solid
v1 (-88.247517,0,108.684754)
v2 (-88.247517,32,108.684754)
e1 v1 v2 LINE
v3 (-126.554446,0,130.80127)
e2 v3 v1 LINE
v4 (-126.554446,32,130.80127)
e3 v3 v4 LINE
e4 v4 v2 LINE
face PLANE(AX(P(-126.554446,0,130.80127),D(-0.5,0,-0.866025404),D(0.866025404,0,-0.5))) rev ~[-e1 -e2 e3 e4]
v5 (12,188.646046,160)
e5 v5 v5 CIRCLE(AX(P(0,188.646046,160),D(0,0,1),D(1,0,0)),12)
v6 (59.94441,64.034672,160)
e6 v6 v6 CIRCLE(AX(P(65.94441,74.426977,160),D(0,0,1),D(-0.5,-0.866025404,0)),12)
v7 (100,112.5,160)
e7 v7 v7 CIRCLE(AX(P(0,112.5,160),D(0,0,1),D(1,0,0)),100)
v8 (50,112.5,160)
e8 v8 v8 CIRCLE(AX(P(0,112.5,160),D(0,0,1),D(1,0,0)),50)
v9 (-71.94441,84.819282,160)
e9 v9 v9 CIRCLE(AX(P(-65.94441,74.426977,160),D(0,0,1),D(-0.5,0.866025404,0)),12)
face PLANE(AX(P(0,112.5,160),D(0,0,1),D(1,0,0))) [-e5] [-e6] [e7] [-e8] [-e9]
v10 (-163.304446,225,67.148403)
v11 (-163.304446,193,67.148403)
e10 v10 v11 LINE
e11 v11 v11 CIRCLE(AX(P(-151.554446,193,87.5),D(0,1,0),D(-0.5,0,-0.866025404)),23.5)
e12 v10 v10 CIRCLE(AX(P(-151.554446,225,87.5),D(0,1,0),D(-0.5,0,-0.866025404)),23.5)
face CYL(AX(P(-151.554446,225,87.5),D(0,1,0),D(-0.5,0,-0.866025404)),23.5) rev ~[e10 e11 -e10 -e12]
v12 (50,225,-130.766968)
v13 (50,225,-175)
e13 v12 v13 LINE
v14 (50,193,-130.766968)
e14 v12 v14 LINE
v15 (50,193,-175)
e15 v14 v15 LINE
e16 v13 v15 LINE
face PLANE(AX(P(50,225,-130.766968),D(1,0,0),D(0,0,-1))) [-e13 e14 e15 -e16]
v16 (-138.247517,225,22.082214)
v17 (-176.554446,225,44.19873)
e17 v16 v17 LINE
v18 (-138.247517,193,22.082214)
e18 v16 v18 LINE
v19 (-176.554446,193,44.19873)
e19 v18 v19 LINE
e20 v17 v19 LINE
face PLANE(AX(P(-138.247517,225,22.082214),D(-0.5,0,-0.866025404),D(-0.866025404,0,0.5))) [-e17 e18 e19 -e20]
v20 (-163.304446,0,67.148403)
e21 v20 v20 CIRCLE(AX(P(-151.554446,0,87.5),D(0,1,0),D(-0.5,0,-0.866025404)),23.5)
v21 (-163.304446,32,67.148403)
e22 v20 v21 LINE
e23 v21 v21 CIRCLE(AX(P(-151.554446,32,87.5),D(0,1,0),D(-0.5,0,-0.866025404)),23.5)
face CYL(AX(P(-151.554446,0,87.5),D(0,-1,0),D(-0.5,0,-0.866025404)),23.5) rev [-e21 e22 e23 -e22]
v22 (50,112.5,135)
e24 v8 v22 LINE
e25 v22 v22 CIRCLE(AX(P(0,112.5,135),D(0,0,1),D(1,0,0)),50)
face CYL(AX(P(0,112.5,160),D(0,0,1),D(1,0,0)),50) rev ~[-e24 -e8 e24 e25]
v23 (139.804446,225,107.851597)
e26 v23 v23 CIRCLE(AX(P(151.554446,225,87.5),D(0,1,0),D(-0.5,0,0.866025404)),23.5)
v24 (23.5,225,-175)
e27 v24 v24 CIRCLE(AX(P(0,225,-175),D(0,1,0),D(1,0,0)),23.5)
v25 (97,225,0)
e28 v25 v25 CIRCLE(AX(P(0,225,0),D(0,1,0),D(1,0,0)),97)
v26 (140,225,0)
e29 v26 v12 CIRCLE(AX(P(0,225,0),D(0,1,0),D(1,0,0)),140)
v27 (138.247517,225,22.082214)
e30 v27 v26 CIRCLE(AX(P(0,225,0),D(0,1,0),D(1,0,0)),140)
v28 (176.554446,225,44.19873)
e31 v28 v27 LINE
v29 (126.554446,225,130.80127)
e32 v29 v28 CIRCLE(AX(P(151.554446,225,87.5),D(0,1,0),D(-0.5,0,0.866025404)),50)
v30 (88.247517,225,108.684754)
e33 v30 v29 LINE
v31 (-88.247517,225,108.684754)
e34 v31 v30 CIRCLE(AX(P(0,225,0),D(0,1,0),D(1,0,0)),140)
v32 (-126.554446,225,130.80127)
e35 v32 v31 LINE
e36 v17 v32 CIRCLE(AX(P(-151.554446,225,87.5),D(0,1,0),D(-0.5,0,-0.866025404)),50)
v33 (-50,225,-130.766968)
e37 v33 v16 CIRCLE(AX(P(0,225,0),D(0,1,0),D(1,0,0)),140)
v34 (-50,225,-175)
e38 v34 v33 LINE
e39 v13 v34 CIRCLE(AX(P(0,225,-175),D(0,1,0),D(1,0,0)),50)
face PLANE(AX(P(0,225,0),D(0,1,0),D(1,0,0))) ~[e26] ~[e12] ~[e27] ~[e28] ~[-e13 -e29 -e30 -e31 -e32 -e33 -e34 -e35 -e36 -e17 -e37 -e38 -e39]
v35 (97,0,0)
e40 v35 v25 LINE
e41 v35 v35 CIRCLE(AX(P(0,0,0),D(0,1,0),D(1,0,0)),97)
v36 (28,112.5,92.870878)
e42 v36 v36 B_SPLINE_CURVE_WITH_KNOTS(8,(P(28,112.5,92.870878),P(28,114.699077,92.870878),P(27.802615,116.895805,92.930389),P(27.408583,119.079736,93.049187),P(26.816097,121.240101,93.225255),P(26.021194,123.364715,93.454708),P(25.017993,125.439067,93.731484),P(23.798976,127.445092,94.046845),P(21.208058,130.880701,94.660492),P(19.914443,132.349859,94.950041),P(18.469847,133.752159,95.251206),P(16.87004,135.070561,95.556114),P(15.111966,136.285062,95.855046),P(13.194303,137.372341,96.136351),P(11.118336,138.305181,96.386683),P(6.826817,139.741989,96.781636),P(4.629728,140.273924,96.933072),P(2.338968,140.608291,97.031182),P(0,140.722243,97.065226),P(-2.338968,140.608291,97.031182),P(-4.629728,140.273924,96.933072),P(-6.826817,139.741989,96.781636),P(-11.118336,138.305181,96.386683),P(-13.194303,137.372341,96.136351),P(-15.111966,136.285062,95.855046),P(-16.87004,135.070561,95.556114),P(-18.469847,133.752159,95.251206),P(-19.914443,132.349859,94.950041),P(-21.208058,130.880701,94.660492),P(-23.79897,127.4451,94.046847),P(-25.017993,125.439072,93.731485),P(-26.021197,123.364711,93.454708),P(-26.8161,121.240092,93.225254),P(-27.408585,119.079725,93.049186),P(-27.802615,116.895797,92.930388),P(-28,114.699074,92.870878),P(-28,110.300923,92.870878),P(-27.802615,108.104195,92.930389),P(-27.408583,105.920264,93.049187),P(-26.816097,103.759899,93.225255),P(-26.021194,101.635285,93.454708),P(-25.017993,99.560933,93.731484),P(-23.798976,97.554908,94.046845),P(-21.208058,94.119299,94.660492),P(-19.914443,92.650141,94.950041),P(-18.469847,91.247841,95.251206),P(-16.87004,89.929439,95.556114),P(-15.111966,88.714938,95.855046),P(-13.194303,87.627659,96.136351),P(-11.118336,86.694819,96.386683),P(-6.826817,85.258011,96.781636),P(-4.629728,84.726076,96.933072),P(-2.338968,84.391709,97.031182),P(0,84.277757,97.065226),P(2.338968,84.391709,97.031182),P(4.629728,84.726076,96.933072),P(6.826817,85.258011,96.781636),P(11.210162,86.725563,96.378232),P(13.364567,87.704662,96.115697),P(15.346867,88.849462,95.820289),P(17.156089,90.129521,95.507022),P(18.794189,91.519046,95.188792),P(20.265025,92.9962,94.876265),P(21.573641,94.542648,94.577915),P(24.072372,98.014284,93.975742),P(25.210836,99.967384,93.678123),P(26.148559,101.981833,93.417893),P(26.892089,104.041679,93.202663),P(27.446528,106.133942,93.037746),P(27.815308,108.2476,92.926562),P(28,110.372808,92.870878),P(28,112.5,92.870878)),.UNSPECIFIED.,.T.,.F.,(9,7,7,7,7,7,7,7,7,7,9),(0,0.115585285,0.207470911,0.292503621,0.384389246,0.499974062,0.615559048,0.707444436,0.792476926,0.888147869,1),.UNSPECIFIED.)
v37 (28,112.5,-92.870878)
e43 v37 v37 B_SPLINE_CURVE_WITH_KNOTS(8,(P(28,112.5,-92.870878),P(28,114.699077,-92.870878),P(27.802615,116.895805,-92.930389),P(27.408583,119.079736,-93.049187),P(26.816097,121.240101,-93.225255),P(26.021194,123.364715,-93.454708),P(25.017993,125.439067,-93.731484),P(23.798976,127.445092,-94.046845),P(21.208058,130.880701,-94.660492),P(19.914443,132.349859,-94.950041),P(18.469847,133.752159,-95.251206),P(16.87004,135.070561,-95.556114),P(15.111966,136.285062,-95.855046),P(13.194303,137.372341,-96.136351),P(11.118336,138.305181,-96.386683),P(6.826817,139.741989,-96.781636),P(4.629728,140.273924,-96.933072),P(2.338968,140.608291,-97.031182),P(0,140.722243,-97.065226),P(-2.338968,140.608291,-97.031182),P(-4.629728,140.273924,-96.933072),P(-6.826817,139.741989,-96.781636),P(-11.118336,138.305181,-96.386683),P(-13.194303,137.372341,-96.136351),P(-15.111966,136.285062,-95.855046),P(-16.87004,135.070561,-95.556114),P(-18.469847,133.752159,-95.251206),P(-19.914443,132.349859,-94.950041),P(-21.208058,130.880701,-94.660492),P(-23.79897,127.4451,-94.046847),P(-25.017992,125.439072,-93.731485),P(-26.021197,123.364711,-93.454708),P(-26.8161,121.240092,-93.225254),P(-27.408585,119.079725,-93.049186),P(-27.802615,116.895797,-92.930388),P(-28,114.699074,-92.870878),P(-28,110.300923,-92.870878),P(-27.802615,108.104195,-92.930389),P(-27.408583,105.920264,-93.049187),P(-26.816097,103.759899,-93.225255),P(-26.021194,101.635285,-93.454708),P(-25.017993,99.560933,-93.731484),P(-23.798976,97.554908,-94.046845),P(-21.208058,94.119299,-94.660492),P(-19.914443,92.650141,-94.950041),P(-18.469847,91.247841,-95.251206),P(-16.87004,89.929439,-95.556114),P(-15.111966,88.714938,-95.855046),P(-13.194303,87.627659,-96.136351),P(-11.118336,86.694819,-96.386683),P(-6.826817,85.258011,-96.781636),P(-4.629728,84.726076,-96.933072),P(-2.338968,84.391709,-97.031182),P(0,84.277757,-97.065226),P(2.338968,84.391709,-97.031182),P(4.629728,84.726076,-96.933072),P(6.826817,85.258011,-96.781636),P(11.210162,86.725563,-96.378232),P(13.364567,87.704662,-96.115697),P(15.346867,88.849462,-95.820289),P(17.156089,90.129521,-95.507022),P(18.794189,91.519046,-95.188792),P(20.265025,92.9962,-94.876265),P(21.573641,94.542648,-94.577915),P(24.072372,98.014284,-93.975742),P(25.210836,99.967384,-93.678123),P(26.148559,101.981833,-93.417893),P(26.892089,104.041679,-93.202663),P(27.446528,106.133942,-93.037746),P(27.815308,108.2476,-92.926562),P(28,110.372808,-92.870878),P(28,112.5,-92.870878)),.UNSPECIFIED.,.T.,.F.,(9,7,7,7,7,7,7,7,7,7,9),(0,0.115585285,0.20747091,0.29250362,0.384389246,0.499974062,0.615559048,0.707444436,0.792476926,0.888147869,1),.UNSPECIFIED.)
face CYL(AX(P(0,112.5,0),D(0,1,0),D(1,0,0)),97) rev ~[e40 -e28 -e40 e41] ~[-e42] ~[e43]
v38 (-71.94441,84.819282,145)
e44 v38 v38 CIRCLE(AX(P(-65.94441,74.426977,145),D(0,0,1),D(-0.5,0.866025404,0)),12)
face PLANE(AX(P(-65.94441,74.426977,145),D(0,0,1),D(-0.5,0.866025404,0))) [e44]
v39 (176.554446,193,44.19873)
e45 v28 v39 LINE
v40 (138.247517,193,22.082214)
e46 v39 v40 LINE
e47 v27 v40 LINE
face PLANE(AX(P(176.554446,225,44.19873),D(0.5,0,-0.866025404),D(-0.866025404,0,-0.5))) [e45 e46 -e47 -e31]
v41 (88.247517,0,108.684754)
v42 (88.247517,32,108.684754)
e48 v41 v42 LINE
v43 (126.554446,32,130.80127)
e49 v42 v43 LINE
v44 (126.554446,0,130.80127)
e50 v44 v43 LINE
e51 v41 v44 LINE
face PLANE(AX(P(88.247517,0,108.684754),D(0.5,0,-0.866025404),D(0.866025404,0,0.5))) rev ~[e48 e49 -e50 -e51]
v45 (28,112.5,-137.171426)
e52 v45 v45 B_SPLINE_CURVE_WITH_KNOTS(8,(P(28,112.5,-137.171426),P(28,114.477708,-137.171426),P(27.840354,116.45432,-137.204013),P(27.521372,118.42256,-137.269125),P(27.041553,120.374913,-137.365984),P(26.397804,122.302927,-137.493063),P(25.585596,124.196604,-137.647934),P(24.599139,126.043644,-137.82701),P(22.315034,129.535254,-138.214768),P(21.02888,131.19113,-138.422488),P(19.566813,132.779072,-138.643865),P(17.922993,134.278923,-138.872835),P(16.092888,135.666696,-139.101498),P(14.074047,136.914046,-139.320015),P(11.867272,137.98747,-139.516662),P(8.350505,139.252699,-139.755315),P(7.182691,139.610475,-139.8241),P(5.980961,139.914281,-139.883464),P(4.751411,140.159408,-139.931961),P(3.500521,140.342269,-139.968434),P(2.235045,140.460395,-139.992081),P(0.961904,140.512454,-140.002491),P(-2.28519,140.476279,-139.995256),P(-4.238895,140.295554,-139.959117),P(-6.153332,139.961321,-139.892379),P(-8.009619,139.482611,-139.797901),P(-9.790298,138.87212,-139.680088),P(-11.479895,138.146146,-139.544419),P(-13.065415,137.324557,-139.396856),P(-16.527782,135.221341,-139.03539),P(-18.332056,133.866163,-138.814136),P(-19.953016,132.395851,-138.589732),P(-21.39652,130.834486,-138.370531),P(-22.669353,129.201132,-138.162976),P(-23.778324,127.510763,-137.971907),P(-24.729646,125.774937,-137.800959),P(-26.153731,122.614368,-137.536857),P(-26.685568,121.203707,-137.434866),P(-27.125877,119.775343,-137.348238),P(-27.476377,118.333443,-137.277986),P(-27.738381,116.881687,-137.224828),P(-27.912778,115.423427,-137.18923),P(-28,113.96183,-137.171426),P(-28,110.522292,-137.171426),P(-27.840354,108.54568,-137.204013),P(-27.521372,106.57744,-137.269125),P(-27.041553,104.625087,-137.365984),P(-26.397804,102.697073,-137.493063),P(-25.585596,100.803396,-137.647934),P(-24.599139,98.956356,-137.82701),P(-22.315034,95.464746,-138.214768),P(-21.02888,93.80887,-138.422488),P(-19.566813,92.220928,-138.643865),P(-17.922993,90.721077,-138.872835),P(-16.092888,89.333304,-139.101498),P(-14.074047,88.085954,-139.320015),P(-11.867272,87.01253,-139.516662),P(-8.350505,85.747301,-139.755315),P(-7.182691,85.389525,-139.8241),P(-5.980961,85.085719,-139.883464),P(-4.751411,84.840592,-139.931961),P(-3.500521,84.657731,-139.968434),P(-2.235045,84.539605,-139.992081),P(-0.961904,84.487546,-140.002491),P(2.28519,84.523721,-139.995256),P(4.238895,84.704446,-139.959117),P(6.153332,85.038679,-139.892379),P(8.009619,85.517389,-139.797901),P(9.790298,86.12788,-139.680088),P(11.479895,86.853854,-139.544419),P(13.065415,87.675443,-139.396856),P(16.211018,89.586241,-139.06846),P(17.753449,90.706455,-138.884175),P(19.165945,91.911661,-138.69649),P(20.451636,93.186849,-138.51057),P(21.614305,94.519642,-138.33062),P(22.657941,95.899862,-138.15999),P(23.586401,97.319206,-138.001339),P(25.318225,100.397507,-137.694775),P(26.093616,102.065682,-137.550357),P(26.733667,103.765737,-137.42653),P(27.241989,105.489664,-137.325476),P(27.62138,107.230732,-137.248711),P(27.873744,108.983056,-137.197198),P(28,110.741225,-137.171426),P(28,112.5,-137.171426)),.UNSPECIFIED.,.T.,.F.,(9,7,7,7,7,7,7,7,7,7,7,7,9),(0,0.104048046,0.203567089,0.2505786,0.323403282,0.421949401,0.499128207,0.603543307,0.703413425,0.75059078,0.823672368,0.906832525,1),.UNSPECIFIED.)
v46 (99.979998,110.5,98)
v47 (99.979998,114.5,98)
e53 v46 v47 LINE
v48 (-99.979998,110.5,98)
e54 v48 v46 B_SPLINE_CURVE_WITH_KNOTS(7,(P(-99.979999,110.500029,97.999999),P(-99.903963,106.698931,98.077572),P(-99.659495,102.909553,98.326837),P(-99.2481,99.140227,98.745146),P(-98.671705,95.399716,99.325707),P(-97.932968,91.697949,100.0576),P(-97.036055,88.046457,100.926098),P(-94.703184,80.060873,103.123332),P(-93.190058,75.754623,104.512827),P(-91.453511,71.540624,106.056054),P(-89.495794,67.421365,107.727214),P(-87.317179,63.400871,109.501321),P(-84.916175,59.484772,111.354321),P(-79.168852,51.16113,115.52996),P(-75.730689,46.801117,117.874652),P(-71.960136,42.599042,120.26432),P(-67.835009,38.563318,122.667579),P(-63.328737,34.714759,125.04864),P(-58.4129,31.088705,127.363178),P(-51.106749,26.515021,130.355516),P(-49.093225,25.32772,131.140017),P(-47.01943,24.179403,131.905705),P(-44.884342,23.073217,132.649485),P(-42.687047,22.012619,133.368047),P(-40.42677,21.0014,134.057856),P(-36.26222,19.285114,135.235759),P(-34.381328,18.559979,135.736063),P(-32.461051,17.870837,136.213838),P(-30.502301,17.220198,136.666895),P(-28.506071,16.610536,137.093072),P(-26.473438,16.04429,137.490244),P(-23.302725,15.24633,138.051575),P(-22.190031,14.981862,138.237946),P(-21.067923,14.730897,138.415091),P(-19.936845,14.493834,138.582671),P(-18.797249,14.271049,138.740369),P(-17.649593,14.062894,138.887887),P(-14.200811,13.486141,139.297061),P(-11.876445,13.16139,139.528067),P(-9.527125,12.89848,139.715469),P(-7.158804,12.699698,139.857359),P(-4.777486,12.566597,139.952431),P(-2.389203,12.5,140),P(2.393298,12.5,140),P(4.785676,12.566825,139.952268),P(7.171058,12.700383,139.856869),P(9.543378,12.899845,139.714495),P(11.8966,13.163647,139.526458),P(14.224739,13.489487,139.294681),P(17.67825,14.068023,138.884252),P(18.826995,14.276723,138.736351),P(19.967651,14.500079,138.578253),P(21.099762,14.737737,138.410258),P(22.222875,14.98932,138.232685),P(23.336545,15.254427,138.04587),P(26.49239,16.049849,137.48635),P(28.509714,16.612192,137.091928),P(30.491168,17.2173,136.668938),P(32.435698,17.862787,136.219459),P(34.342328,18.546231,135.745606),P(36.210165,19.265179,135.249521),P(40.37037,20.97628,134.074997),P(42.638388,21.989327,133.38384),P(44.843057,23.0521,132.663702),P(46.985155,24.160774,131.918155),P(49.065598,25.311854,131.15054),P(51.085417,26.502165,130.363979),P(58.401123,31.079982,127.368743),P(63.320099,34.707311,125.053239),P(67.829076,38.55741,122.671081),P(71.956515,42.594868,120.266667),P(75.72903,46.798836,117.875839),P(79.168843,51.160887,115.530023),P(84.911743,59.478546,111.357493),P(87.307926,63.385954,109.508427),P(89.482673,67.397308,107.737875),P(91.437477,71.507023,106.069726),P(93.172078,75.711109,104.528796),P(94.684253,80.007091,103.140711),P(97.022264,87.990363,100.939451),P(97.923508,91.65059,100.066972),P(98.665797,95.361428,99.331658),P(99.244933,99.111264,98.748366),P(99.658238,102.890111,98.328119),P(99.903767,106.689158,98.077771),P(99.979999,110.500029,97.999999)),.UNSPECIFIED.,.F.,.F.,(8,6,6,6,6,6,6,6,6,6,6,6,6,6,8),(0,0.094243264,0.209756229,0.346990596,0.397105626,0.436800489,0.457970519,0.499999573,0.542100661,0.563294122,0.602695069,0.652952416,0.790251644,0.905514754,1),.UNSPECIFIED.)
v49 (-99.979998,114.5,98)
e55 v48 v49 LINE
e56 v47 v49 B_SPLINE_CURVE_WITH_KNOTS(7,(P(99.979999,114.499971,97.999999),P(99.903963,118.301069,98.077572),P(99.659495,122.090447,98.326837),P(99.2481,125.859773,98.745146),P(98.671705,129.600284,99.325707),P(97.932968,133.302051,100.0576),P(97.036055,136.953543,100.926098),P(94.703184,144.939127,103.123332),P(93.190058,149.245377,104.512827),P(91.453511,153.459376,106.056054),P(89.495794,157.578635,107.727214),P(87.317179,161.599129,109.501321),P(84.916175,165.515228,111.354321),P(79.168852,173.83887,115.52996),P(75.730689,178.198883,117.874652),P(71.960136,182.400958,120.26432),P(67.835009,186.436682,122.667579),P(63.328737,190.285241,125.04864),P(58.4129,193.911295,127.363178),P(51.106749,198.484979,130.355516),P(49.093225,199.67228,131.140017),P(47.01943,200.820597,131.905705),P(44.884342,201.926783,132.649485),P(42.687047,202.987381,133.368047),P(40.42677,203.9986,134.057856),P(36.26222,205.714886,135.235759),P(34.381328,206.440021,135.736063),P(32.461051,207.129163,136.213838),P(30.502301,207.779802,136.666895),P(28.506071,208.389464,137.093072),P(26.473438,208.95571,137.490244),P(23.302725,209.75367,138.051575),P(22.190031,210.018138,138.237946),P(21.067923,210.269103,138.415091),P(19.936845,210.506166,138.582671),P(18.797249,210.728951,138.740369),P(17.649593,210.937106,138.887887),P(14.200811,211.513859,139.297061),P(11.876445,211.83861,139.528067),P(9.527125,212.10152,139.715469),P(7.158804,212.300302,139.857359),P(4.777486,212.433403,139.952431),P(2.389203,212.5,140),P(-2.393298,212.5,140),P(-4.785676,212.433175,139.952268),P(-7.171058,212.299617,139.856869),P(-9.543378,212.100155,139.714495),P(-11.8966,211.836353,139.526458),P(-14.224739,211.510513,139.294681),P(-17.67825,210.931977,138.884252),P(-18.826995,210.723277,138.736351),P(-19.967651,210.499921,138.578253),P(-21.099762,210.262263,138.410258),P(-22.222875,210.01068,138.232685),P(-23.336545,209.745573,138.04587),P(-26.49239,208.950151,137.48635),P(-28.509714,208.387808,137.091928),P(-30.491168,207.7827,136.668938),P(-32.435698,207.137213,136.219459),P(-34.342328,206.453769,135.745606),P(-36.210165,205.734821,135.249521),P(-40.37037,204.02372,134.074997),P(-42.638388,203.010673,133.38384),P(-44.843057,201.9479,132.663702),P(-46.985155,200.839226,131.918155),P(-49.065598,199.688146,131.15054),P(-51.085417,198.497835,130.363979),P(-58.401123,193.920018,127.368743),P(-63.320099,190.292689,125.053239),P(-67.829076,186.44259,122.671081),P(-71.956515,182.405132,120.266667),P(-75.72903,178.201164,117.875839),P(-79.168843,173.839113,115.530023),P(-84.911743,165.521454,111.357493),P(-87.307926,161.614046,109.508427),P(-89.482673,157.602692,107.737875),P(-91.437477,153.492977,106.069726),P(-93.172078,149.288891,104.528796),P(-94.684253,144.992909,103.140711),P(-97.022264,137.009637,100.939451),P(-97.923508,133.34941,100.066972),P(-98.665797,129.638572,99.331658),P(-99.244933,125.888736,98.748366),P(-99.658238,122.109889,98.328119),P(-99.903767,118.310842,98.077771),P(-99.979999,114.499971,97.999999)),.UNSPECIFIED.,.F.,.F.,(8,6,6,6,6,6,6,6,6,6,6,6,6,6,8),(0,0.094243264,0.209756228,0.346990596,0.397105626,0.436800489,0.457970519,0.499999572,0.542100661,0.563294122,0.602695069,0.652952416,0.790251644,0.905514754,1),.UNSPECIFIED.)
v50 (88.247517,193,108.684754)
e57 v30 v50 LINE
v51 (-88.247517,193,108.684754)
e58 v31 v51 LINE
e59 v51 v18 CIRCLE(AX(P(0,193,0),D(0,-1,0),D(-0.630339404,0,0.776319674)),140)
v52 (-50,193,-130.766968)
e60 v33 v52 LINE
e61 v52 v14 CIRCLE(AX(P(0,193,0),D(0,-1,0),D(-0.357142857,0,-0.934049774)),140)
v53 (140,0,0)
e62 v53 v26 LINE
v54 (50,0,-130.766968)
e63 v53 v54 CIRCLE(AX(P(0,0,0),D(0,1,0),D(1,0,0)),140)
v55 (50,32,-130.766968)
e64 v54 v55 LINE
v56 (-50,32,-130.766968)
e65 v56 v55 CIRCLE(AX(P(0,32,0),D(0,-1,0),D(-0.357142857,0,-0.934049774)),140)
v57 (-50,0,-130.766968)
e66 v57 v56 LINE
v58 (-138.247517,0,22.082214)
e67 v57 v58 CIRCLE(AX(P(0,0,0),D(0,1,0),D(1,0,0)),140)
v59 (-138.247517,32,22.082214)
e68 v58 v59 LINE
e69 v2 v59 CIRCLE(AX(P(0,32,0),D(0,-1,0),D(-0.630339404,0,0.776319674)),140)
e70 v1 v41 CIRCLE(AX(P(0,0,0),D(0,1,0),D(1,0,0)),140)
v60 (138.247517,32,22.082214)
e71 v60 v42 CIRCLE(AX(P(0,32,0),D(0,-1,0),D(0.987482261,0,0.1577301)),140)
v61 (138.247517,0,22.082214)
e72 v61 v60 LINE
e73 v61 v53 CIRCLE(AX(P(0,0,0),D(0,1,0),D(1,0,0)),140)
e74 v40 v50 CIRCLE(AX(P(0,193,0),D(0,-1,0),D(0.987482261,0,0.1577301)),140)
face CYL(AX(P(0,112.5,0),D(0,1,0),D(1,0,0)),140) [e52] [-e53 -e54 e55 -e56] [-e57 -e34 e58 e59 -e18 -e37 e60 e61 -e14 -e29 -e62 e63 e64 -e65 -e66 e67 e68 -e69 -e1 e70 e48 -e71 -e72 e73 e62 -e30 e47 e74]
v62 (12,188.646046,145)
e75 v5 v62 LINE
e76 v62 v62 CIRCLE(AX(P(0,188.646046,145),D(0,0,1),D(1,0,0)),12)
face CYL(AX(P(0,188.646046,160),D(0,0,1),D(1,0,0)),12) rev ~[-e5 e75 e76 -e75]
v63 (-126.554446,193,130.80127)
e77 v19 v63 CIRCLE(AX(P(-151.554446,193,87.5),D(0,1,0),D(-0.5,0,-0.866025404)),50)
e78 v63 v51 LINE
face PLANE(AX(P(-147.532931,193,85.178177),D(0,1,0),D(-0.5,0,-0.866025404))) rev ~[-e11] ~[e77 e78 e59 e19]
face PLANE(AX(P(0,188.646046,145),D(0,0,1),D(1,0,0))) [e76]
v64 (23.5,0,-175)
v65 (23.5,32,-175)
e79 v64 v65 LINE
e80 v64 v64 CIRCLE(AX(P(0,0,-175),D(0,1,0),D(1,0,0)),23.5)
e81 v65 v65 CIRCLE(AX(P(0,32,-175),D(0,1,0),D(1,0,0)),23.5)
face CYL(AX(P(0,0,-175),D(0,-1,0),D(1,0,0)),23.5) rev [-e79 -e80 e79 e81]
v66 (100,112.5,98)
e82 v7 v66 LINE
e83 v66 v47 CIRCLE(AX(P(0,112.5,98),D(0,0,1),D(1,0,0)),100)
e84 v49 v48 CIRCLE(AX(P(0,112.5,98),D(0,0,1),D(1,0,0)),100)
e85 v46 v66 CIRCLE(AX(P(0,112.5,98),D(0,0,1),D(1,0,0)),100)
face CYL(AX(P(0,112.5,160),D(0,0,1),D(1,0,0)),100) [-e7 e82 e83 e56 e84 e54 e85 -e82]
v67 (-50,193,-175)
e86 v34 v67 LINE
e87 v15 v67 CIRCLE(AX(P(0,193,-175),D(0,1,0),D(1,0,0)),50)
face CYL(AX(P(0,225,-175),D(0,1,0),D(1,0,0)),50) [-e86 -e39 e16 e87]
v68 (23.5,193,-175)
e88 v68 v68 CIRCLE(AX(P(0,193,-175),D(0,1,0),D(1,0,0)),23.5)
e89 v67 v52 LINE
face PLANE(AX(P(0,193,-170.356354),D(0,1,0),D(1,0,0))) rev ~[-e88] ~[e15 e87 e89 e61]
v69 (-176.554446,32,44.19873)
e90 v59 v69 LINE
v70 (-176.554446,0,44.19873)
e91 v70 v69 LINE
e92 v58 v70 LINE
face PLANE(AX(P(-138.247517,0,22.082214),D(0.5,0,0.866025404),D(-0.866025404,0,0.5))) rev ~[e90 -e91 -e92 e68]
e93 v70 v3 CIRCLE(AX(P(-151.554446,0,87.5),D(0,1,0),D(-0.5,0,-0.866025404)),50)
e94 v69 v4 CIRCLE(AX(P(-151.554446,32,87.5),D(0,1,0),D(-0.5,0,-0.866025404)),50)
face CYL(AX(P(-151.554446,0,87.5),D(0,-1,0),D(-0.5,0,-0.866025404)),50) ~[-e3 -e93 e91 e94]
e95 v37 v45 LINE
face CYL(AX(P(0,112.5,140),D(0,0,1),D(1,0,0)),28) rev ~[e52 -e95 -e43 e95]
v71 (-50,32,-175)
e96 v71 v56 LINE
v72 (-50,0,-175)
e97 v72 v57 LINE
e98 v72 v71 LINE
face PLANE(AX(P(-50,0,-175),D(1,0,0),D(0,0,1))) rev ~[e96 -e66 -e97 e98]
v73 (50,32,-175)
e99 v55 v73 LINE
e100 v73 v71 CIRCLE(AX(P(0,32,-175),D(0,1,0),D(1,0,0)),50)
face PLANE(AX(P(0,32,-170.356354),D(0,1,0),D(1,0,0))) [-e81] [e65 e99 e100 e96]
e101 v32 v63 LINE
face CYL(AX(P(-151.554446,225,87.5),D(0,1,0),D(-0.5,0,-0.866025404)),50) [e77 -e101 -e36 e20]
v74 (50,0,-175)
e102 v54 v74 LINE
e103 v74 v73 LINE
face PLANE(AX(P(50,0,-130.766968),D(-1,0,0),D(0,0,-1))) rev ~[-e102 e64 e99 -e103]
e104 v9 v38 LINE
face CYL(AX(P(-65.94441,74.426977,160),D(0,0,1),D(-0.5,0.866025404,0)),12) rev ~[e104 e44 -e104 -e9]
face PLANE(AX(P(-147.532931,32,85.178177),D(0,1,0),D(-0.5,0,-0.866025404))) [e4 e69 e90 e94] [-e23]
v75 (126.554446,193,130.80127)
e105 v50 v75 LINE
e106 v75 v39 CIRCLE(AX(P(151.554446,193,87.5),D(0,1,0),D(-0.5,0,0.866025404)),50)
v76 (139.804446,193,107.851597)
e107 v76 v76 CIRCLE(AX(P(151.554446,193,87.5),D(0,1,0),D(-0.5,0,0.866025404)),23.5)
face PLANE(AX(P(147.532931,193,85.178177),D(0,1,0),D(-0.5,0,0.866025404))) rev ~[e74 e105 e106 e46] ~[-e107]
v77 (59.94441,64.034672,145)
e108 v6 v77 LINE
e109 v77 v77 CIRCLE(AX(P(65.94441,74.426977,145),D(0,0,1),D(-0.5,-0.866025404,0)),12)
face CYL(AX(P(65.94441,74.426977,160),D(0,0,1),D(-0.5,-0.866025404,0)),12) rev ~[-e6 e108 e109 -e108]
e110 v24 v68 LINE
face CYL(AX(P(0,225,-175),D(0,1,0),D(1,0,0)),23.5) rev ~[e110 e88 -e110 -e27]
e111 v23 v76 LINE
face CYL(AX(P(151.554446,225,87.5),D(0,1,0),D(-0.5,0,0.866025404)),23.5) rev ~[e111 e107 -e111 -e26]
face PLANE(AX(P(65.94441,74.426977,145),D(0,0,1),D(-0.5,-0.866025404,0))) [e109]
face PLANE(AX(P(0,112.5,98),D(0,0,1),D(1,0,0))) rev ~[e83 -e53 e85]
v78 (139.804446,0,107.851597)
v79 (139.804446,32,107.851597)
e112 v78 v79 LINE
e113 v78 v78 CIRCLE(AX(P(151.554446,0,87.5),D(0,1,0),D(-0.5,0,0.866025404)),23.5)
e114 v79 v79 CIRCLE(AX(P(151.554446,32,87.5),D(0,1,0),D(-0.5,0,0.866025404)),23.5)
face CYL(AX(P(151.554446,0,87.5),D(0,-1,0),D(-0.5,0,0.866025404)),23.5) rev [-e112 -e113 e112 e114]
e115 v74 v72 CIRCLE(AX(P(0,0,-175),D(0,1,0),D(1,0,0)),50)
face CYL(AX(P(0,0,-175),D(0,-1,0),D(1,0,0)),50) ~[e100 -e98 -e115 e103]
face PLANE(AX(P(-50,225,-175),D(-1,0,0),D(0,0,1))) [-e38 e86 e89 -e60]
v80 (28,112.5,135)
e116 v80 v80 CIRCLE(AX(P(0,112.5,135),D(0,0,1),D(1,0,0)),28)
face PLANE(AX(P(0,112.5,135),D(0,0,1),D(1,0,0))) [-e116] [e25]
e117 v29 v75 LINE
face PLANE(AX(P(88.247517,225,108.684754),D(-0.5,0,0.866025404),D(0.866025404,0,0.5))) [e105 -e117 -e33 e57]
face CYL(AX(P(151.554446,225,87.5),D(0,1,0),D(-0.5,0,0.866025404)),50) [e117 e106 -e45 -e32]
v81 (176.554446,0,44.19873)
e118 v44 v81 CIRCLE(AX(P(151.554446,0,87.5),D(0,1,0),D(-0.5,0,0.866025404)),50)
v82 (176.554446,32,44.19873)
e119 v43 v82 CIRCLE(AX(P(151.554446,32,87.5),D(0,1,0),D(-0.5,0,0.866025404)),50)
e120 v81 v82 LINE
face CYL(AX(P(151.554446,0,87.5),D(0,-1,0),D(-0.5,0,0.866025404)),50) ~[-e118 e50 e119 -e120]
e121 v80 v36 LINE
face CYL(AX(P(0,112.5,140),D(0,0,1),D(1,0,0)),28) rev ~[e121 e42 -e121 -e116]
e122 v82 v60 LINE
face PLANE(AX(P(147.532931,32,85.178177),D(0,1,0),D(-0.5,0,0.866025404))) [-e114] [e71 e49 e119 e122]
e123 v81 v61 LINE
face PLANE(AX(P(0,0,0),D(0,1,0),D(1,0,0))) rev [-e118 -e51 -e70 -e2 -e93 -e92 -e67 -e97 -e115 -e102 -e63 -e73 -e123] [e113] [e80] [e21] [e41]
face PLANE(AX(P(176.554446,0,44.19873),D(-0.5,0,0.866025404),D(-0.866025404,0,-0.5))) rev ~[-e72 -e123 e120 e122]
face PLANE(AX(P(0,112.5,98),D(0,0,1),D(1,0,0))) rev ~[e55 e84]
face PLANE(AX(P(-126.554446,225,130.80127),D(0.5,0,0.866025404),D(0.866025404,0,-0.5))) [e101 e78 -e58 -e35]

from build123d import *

# Parameters (mm, degrees)
SKETCH1_W           = 43
SKETCH1_H           = 225
SKETCH2_R           = 23.5
BOSS_EXTRUDE1_DEPTH = 32
CIRPATTERN1_COUNT   = 3
SKETCH3_R           = 23.5
BOSS_EXTRUDE2_DEPTH = 32
CIRPATTERN2_COUNT   = 3
BOSS_EXTRUDE4_START = 20
SKETCH5_R           = 100
BOSS_EXTRUDE4_DEPTH = 62
SKETCH6_R           = 50
CUT_EXTRUDE2_DEPTH  = 25
SKETCH4_R           = 28
CUT_EXTRUDE1_DEPTH  = 342
SKETCH7_R           = 12
CUT_EXTRUDE3_DEPTH  = 15
CIRPATTERN3_COUNT   = 3


with BuildPart() as part:
    # Sketch1 → Revolve1 (revolve)
    with BuildSketch(Plane.XY):
        with Locations((118.5, 112.5)):
            Rectangle(SKETCH1_W, SKETCH1_H)
    revolve(axis=Axis((0, 0, 0), (0, 1, 0)))

    # Sketch2 → Boss-Extrude1 (add)
    with BuildSketch(Plane(origin=(0, 225, 0), x_dir=(1, 0, 0), z_dir=(0, 1, 0))):
        with BuildLine():
            ThreePointArc((50, 175), (0, 225), (-50, 175))
            Line((-50, 175), (-50, 130.766968306))
            ThreePointArc((-50, 130.766968306), (0, 140), (50, 130.766968306))
            Line((50, 130.766968306), (50, 175))
        make_face()
        with Locations((0, 175)):
            Circle(SKETCH2_R, mode=Mode.SUBTRACT)
    boss_extrude1 = extrude(amount=-BOSS_EXTRUDE1_DEPTH)

    # CirPattern1: Boss-Extrude1 ×3 about axis
    cirpattern1_axis = Axis((0, 0, 0), (0, 1, 0))
    for i in range(1, CIRPATTERN1_COUNT):
        add(boss_extrude1.rotate(cirpattern1_axis, i * 360 / CIRPATTERN1_COUNT))

    # Sketch3 → Boss-Extrude2 (add)
    with BuildSketch(Plane(origin=(0, 0, 0), x_dir=(1, 0, 0), z_dir=(0, 1, 0))):
        with BuildLine():
            ThreePointArc((50, 175), (0, 225), (-50, 175))
            Line((-50, 175), (-50, 130.766968306))
            ThreePointArc((-50, 130.766968306), (0, 140), (50, 130.766968306))
            Line((50, 130.766968306), (50, 175))
        make_face()
        with Locations((0, 175)):
            Circle(SKETCH3_R, mode=Mode.SUBTRACT)
    boss_extrude2 = extrude(amount=BOSS_EXTRUDE2_DEPTH)

    # CirPattern2: Boss-Extrude2 ×3 about axis
    cirpattern2_axis = Axis((0, 0, 0), (0, 1, 0))
    for i in range(1, CIRPATTERN2_COUNT):
        add(boss_extrude2.rotate(cirpattern2_axis, i * 360 / CIRPATTERN2_COUNT))

    # Sketch5 → Boss-Extrude4 (add)
    with BuildSketch(Plane.XY.offset(140).offset(BOSS_EXTRUDE4_START)):
        with Locations((0, 112.5)):
            Circle(SKETCH5_R)
    extrude(amount=-BOSS_EXTRUDE4_DEPTH)

    # Sketch6 → Cut-Extrude2 (cut)
    with BuildSketch(Plane.XY.offset(160)):
        with Locations((0, 112.5)):
            Circle(SKETCH6_R)
    extrude(amount=-CUT_EXTRUDE2_DEPTH, mode=Mode.SUBTRACT)

    # Sketch4 → Cut-Extrude1 (cut)
    with BuildSketch(Plane.XY.offset(140)):
        with Locations((0, 112.5)):
            Circle(SKETCH4_R)
    extrude(amount=-CUT_EXTRUDE1_DEPTH, mode=Mode.SUBTRACT)

    # Sketch7 → Cut-Extrude3 (cut)
    with BuildSketch(Plane.XY.offset(160)):
        with Locations((0, 188.646045953)):
            Circle(SKETCH7_R)
    cut_extrude3 = extrude(amount=-CUT_EXTRUDE3_DEPTH, mode=Mode.SUBTRACT)

    # CirPattern3: Cut-Extrude3 ×3 about axis
    cirpattern3_axis = Axis((0, 112.5, 0), (0, 0, 1))
    for i in range(1, CIRPATTERN3_COUNT):
        add(cut_extrude3.rotate(cirpattern3_axis, i * 360 / CIRPATTERN3_COUNT), mode=Mode.SUBTRACT)


solid = part.part
